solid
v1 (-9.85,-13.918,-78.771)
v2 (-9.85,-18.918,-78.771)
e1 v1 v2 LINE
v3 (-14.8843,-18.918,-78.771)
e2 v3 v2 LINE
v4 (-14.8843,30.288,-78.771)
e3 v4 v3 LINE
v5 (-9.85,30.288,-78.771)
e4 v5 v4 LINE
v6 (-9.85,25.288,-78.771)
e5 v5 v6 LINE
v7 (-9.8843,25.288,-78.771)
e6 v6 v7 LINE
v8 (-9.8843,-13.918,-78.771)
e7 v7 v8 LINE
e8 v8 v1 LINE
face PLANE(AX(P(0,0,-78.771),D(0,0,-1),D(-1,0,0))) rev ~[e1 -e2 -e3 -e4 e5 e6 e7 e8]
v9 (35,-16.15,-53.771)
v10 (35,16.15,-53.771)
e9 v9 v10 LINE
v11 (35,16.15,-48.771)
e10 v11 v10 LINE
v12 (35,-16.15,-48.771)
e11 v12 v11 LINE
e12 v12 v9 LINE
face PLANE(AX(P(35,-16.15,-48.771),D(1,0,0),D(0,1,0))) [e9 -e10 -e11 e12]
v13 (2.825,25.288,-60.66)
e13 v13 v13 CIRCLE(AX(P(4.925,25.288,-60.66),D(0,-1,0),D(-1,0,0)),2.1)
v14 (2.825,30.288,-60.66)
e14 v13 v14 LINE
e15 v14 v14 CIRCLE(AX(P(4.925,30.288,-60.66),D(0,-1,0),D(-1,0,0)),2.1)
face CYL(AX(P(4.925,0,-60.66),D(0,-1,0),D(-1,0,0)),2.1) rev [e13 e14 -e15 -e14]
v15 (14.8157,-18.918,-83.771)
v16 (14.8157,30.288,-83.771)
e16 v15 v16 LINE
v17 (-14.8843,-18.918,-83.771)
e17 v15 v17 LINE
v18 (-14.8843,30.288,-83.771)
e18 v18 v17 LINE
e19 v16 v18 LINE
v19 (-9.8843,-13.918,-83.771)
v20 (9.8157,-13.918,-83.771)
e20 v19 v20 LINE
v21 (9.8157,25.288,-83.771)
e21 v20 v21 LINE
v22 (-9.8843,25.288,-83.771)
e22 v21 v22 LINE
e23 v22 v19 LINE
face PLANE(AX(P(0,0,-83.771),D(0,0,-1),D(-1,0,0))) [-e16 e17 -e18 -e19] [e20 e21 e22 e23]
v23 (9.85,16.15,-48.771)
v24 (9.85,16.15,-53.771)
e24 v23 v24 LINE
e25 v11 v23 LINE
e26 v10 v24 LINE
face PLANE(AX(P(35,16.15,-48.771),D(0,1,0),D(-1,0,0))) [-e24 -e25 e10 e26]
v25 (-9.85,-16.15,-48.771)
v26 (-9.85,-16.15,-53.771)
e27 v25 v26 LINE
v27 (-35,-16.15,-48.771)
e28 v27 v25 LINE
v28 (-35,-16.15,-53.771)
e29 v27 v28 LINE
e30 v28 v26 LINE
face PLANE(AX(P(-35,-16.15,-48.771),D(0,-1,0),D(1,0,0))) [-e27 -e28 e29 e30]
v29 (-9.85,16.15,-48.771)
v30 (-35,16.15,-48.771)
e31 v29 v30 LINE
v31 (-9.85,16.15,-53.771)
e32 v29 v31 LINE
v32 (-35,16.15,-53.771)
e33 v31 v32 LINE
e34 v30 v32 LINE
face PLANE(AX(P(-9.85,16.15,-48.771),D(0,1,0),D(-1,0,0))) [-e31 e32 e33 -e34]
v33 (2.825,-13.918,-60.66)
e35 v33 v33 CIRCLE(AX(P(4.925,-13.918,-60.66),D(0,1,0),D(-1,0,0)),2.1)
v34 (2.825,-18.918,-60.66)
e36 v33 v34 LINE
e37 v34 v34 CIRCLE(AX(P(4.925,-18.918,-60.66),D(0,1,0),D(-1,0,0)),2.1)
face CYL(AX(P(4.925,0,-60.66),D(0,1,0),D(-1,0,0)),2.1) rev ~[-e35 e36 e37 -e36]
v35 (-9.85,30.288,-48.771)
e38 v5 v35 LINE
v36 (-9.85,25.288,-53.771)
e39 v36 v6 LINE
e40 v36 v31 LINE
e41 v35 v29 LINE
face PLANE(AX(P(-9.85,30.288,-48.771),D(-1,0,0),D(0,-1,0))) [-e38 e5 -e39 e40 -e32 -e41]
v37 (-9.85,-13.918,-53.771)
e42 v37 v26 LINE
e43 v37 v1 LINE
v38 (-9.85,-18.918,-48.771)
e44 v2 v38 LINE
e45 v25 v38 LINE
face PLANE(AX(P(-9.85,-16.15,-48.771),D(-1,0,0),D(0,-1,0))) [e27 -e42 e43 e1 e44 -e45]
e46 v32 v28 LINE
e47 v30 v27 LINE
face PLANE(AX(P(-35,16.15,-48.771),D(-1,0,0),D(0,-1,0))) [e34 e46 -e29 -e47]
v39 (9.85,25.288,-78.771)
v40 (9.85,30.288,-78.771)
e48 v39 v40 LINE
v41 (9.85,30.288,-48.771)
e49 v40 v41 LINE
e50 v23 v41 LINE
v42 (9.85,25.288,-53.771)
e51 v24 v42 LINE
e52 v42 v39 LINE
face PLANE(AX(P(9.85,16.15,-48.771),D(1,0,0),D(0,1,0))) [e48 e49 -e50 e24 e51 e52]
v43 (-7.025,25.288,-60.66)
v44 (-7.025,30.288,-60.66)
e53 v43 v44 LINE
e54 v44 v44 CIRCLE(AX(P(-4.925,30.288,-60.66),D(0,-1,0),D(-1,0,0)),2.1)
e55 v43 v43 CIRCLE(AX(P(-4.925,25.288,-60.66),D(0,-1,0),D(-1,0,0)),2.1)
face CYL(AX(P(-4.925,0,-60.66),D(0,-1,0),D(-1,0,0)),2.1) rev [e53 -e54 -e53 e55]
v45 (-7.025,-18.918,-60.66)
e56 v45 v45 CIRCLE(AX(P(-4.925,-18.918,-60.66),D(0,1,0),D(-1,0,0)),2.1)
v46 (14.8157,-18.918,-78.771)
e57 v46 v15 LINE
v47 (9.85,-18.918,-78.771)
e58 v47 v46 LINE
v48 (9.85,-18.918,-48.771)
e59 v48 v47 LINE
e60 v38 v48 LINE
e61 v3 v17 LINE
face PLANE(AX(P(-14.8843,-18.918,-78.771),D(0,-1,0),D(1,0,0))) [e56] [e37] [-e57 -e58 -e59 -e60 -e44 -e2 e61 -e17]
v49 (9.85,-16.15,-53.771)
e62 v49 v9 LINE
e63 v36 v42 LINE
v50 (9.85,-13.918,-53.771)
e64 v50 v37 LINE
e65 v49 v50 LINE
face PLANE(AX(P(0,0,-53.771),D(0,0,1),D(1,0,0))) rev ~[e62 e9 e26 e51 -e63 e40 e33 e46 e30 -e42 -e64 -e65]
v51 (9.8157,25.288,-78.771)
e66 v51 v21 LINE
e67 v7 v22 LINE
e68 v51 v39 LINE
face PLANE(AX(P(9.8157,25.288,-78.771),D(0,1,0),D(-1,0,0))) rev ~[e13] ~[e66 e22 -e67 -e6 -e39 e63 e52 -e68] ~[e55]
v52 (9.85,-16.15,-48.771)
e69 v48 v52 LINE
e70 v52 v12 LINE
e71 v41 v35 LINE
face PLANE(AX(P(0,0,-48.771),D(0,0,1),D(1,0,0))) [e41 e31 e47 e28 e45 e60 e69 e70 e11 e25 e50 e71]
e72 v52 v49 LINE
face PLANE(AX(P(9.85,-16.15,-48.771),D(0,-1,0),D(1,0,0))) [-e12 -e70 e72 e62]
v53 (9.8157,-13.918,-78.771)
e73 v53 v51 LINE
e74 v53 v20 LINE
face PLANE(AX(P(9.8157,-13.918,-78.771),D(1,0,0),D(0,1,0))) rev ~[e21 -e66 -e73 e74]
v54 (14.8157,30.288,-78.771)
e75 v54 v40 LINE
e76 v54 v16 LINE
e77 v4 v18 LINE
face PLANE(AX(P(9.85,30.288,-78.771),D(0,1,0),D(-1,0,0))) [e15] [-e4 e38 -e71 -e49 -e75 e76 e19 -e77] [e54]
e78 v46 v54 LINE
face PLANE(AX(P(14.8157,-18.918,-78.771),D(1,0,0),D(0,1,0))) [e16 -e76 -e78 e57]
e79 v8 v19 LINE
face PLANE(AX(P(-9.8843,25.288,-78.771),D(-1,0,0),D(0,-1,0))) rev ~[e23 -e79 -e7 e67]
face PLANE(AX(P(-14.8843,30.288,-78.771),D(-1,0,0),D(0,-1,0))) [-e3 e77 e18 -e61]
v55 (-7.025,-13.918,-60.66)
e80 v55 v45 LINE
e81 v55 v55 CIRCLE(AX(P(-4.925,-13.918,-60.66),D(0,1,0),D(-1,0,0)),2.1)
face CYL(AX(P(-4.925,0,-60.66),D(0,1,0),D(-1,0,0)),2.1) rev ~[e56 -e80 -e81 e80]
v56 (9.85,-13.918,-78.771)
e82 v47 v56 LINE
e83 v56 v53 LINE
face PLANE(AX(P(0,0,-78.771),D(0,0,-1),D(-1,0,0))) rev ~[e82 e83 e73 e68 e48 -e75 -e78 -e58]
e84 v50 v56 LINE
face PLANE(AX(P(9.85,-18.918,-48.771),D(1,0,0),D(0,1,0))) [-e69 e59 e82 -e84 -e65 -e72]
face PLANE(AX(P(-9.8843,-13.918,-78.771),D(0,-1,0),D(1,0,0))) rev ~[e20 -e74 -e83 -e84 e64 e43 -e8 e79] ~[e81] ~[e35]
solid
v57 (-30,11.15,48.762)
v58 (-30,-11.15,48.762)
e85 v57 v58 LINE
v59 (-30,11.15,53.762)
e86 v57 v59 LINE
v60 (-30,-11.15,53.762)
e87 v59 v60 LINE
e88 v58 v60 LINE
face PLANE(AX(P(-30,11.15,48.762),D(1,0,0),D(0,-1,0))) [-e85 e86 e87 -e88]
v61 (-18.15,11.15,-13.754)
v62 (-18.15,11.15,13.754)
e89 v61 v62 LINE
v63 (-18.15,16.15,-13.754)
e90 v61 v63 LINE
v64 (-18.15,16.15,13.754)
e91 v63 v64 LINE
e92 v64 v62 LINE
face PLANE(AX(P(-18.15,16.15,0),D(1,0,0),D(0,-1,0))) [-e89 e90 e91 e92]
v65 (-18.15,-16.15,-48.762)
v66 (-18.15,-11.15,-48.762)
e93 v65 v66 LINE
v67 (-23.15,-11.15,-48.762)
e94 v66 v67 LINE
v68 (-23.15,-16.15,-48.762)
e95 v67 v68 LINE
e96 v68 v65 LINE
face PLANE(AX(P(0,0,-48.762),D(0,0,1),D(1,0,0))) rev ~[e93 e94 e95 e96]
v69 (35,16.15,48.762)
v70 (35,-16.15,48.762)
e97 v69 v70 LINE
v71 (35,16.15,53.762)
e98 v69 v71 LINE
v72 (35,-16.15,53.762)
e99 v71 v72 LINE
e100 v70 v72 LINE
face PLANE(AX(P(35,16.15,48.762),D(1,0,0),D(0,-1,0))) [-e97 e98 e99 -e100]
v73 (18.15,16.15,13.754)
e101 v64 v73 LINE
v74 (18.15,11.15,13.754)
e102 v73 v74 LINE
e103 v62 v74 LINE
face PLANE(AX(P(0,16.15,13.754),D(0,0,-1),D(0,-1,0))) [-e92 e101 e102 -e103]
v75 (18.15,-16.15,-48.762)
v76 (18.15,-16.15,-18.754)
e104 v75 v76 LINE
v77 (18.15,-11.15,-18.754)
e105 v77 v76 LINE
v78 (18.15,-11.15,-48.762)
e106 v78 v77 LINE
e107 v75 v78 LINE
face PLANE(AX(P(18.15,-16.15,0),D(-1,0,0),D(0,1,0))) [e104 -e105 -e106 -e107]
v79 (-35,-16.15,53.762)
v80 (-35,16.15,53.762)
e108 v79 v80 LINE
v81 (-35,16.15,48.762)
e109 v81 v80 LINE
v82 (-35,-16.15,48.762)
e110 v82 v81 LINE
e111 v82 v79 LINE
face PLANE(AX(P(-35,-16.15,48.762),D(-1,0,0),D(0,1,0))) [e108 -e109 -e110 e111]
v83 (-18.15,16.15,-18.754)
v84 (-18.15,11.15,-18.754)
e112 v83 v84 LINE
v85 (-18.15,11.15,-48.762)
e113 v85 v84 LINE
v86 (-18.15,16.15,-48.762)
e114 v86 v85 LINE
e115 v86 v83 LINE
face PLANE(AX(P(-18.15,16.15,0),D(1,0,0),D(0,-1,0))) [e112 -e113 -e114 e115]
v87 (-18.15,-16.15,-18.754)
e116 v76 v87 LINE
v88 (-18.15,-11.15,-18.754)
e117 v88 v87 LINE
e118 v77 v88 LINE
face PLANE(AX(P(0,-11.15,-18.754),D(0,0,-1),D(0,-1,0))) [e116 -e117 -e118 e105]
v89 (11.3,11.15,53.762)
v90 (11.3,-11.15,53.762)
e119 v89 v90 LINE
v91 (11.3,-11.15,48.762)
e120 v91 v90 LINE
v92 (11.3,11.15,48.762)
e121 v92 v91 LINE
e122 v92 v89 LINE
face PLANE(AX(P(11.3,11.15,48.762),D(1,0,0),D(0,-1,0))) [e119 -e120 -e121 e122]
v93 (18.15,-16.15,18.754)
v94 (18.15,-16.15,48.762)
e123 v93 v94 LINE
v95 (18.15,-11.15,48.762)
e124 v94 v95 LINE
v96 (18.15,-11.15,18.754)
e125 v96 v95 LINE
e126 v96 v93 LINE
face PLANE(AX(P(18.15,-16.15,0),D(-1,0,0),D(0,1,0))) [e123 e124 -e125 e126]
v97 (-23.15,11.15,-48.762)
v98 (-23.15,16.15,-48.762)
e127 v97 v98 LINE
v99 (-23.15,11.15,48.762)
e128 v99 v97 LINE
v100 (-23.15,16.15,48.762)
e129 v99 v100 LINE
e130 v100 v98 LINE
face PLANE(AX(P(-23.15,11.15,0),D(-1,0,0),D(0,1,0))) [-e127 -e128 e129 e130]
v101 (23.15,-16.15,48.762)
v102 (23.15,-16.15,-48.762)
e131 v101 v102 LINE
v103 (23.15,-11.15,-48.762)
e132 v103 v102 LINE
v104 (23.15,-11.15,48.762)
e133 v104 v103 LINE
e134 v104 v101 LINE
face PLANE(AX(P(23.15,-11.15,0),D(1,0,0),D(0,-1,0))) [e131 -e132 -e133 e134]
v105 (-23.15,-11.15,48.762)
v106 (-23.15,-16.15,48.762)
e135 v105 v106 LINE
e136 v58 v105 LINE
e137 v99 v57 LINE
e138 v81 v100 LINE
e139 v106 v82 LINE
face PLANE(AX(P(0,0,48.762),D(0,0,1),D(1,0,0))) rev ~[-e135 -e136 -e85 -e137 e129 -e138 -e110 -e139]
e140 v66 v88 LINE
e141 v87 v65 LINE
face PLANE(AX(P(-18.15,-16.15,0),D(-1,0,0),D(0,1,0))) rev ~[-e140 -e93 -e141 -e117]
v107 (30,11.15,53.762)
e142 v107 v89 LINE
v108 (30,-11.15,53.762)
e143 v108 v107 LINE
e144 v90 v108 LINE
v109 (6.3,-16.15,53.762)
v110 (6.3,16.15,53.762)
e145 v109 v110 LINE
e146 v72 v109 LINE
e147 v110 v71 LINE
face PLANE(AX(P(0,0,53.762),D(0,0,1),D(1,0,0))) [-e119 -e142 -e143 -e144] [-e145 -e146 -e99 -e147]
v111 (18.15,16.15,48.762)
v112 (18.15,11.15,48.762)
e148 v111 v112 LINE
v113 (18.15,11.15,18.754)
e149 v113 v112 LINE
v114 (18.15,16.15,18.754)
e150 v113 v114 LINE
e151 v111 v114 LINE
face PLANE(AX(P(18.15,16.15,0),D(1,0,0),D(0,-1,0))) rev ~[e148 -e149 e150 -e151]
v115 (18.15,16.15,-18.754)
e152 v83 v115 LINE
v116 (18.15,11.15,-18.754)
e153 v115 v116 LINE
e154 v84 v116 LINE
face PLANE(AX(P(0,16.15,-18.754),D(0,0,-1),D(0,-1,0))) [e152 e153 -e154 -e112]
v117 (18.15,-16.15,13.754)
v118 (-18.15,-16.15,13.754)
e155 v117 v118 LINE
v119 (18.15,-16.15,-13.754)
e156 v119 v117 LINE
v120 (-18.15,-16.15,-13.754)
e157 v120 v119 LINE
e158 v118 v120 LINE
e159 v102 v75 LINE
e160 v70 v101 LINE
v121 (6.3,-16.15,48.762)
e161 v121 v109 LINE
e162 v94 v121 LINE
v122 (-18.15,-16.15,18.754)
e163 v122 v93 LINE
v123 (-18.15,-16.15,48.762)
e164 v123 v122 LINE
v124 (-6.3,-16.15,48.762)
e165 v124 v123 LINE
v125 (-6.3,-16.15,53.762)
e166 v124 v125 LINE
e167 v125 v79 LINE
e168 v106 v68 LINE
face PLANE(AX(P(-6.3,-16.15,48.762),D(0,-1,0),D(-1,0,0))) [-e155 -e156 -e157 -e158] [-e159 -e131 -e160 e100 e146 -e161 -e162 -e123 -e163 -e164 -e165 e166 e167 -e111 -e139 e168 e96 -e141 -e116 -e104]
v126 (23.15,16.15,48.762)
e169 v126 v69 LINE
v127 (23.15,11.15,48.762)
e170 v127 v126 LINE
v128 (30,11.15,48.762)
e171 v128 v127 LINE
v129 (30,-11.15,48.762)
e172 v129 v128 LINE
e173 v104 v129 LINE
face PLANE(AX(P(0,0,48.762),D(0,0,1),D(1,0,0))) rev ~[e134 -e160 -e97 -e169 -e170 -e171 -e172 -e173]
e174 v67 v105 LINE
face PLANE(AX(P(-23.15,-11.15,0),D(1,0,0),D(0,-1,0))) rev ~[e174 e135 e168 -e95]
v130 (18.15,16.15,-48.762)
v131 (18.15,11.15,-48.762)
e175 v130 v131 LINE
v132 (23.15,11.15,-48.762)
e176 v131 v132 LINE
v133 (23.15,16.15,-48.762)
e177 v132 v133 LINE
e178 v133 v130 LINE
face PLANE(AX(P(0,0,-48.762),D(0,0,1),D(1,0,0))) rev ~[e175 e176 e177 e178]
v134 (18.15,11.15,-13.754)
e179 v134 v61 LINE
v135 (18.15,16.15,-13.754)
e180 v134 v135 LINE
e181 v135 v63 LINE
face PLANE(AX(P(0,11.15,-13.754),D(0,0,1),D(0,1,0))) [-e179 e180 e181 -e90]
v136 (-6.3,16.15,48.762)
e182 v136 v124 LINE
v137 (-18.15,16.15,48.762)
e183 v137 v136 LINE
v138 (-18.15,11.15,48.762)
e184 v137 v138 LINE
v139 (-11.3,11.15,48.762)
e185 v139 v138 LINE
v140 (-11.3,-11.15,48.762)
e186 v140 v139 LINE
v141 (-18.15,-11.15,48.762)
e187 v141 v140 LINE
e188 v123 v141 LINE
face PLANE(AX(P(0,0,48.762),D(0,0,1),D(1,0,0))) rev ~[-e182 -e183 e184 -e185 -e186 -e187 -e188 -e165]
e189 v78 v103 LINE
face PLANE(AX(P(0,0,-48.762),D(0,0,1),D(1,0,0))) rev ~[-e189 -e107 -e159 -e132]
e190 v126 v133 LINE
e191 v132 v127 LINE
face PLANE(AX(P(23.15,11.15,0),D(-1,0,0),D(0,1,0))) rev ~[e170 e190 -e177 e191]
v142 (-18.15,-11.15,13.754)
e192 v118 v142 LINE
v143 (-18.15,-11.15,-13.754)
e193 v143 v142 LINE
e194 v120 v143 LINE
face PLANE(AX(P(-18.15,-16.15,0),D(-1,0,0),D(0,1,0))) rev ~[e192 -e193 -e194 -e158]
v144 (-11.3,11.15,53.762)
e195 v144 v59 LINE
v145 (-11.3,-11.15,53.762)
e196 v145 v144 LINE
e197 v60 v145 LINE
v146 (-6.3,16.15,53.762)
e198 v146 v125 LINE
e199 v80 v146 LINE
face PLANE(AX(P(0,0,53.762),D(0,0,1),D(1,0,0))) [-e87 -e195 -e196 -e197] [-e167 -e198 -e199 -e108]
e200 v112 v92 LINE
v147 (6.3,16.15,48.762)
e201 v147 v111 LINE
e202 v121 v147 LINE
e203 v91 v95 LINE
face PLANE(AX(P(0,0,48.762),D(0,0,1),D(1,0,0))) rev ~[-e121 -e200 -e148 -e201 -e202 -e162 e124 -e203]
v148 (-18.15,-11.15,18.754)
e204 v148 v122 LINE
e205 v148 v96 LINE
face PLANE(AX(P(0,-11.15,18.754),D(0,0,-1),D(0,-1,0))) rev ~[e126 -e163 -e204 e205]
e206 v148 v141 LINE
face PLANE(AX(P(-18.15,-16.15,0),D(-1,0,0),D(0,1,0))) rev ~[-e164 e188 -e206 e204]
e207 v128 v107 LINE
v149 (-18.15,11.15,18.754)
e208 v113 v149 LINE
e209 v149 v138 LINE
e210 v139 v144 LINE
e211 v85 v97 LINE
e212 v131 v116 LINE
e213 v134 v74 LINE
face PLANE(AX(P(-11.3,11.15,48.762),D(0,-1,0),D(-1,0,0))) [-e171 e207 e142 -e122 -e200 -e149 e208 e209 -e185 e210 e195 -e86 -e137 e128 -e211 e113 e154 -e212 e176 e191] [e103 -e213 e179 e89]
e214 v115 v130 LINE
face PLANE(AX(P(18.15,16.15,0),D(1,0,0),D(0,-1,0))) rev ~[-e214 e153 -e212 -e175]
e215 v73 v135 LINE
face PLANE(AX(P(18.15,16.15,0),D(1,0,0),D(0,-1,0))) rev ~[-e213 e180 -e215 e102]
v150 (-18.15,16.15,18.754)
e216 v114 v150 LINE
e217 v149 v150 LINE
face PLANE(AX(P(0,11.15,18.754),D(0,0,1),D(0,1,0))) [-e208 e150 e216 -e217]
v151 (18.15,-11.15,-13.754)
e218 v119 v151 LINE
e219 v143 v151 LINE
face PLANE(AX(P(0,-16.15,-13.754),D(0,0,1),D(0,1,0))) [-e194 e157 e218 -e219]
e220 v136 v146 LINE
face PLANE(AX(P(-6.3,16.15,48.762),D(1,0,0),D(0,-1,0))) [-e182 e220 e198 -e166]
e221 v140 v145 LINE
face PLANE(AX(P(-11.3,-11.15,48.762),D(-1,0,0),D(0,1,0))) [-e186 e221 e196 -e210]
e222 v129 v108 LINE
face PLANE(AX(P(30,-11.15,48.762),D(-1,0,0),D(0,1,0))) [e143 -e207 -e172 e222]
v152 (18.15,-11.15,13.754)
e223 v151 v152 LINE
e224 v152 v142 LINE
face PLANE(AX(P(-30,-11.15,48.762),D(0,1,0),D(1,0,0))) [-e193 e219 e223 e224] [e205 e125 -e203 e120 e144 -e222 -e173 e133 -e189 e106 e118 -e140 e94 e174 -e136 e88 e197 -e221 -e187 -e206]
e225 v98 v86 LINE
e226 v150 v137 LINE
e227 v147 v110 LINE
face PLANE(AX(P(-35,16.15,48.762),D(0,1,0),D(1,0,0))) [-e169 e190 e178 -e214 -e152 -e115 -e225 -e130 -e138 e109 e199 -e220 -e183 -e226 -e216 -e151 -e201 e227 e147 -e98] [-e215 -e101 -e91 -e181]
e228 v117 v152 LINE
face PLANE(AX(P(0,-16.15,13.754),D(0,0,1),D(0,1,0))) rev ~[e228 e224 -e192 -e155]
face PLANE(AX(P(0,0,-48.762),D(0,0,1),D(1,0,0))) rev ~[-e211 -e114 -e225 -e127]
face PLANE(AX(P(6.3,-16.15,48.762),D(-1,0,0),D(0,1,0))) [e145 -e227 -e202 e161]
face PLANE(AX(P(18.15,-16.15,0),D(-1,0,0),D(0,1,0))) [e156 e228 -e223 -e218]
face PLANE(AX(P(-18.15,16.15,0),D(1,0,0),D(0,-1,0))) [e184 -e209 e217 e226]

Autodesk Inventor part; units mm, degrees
sketch "Sketch1" plane through (0, 0, 0) normal (0, 0, 1) x (1, 0, 0)
  line L0 (-18.15, 11.15) -> (18.15, 11.15) construction
  line L1 (18.15, 11.15) -> (18.15, -11.15) construction
  line L2 (18.15, -11.15) -> (-18.15, -11.15) construction
  line L3 (-18.15, -11.15) -> (-18.15, 11.15) construction
  line L4 (-18.15, 11.15) -> (18.15, -11.15) construction
  line L5 (18.15, 11.15) -> (-18.15, -11.15) construction
  line L6 (-18.15, 11.15) -> (-23.15, 11.15)
  line L7 (-23.15, 11.15) -> (-23.15, 16.15)
  line L8 (-23.15, 16.15) -> (-18.15, 16.15)
  line L9 (-18.15, 16.15) -> (-18.15, 11.15)
  line L10 (18.15, 11.15) -> (23.15, 11.15)
  line L11 (23.15, 11.15) -> (23.15, 16.15)
  line L12 (23.15, 16.15) -> (18.15, 16.15)
  line L13 (18.15, 16.15) -> (18.15, 11.15)
  line L14 (18.15, -11.15) -> (23.15, -11.15)
  line L15 (23.15, -11.15) -> (23.15, -16.15)
  line L16 (23.15, -16.15) -> (18.15, -16.15)
  line L17 (18.15, -16.15) -> (18.15, -11.15)
  line L18 (-18.15, -11.15) -> (-23.15, -11.15)
  line L19 (-23.15, -11.15) -> (-23.15, -16.15)
  line L20 (-23.15, -16.15) -> (-18.15, -16.15)
  line L21 (-18.15, -16.15) -> (-18.15, -11.15)
  point P0 (0, 0)
  dimension "d0" = 36.3
  dimension "d1" = 22.3
  dimension "d2" = 5
  dimension "d3" = 5
  dimension "d4" = 5
  dimension "d5" = 5
  dimension "d6" = 5
  dimension "d7" = 5
  dimension "d8" = 5
  dimension "d9" = 5
extrude "Extrusion1" add sketch "Sketch1" along normal mid plane 97.524
ref_plane "Work Plane1" through (0, 0, 48.762) normal (0, 0, 1) x (1, 0, 0)
sketch "Sketch2" plane through (0, 0, 48.762) normal (0, 0, 1) x (1, 0, 0)
  line L0 (0, 0) -> (-20.65, 0) construction
  line L1 (0, 0) -> (20.65, 0) construction
  line L2 (-35, 16.15) -> (-6.3, 16.15)
  line L3 (-6.3, 16.15) -> (-6.3, -16.15)
  line L4 (-6.3, -16.15) -> (-35, -16.15)
  line L5 (-35, -16.15) -> (-35, 16.15)
  line L6 (-35, 16.15) -> (-6.3, -16.15) construction
  line L7 (-6.3, 16.15) -> (-35, -16.15) construction
  line L8 (6.3, 16.15) -> (35, 16.15)
  line L9 (35, 16.15) -> (35, -16.15)
  line L10 (35, -16.15) -> (6.3, -16.15)
  line L11 (6.3, -16.15) -> (6.3, 16.15)
  line L12 (6.3, 16.15) -> (35, -16.15) construction
  line L13 (35, 16.15) -> (6.3, -16.15) construction
  line L14 (-11.3, 11.15) -> (-30, 11.15)
  line L15 (-30, 11.15) -> (-30, -11.15)
  line L16 (-30, -11.15) -> (-11.3, -11.15)
  line L17 (-11.3, -11.15) -> (-11.3, 11.15)
  line L18 (30, 11.15) -> (11.3, 11.15)
  line L19 (11.3, 11.15) -> (11.3, -11.15)
  line L20 (11.3, -11.15) -> (30, -11.15)
  line L21 (30, -11.15) -> (30, 11.15)
  dimension "d13" = 20.65
  dimension "d14" = 20.65
  dimension "d15" = 28.7
  dimension "d16" = 32.3
  dimension "d17" = 28.7
  dimension "d18" = 32.3
  dimension "d19" = 5
  dimension "d20" = 5
extrude "Extrusion2" add sketch "Sketch2" along normal blind 5
ref_plane "Work Plane2" through (0, 0, -48.771) normal (0, 0, 1) x (1, 0, 0)
sketch "Sketch3" plane through (0, 0, -48.771) normal (0, 0, 1) x (1, 0, 0)
  line L0 (35, 16.15) -> (-35, 16.15)
  line L1 (-35, 16.15) -> (-35, -16.15)
  line L2 (-35, -16.15) -> (35, -16.15)
  line L3 (35, -16.15) -> (35, 16.15)
  line L4 (35, 16.15) -> (-35, -16.15) construction
  line L5 (-35, 16.15) -> (35, -16.15) construction
  line L6 (0, 0) -> (35, 0) construction
  line L7 (0, 0) -> (-35, 0) construction
  line L8 (-9.85, 16.15) -> (9.85, 16.15)
  line L9 (-9.85, -16.15) -> (9.85, -16.15)
  line L10 (9.85, 30.288) -> (-9.85, 30.288)
  line L11 (-9.85, 30.288) -> (-9.85, -18.918)
  line L12 (-9.85, -18.918) -> (9.85, -18.918)
  line L13 (9.85, -18.918) -> (9.85, 30.288)
  line L14 (9.85, 30.288) -> (-9.85, -18.918) construction
  line L15 (-9.85, 30.288) -> (9.85, -18.918) construction
  point P0 (11.3, -11.15)
  point P1 (-30, 11.15)
  point P2 (0, 5.685)
  dimension "d25" = 32.3
  dimension "d26" = 35
  dimension "d27" = 35
  dimension "d78" = 19.7
  dimension "d81" = 19.7
  dimension "d90" = 19.7
  dimension "d91" = 49.206
  dimension "d92" = 5.685
extrude "Extrusion3" add sketch "Sketch3" against normal blind 5
sketch "Sketch4" plane through (0, 0, 0) normal (1, 0, 0) x (0, 1, 0)
  line L0 (11.15, -48.762) -> (11.15, 48.762) projected
  line L1 (11.15, 18.754) -> (16.15, 18.754)
  line L2 (16.15, 18.754) -> (16.15, 13.754)
  line L3 (16.15, 13.754) -> (11.15, 13.754)
  line L4 (11.15, 13.754) -> (11.15, 18.754)
  line L5 (-11.15, 48.762) -> (11.15, 48.762) projected
  line L6 (11.15, -13.754) -> (16.15, -13.754)
  line L7 (16.15, -13.754) -> (16.15, -18.754)
  line L8 (16.15, -18.754) -> (11.15, -18.754)
  line L9 (11.15, -18.754) -> (11.15, -13.754)
  line L10 (16.15, -48.762) -> (11.15, -48.762) projected
  line L11 (-11.15, 48.762) -> (-11.15, -48.762) projected
  line L12 (-11.15, 18.754) -> (-16.15, 18.754)
  line L13 (-16.15, 18.754) -> (-16.15, 13.754)
  line L14 (-16.15, 13.754) -> (-11.15, 13.754)
  line L15 (-11.15, 13.754) -> (-11.15, 18.754)
  line L16 (-11.15, -18.754) -> (-16.15, -18.754)
  line L17 (-16.15, -18.754) -> (-16.15, -13.754)
  line L18 (-16.15, -13.754) -> (-11.15, -13.754)
  line L19 (-11.15, -13.754) -> (-11.15, -18.754)
  line L20 (-11.15, -48.762) -> (-16.15, -48.762) projected
  point P0 (0, 0)
  point P1 (-16.15, 48.762)
  point P2 (16.15, 48.762)
  dimension "d30" = 5
  dimension "d31" = 5
  dimension "d32" = 30.008
  dimension "d33" = 5
  dimension "d34" = 5
  dimension "d35" = 30.008
  dimension "d36" = 5
  dimension "d37" = 5
  dimension "d38" = 5
  dimension "d39" = 5
  dimension "d40" = 30.008
  dimension "d41" = 30.008
extrude "Extrusion4" add sketch "Sketch4" along normal mid plane 36.3
sketch "Sketch7" plane through (0, 0, -53.771) normal (0, 0, -1) x (-1, 0, 0)
  line L0 (9.85, 30.288) -> (-9.85, 30.288) projected
  line L1 (-9.85, 30.288) -> (9.85, 30.288)
  line L2 (9.85, 30.288) -> (9.85, 25.288)
  line L3 (9.85, 25.288) -> (-9.85, 25.288)
  line L4 (-9.85, 25.288) -> (-9.85, 30.288)
  line L5 (-9.85, -18.918) -> (9.85, -18.918) projected
  line L6 (9.85, -18.918) -> (-9.85, -18.918)
  line L7 (-9.85, -18.918) -> (-9.85, -13.918)
  line L8 (-9.85, -13.918) -> (9.85, -13.918)
  line L9 (9.85, -13.918) -> (9.85, -18.918)
  dimension "d93" = 5
  dimension "d94" = 5
extrude "Extrusion7" add sketch "Sketch7" along normal blind 25
ref_plane "Work Plane3" through (0, 0, -78.771) normal (0, 0, -1) x (-1, 0, 0)
sketch "Sketch8" plane through (0, 0, -78.771) normal (0, 0, -1) x (-1, 0, 0)
  line L0 (-9.85, 30.288) -> (9.85, 30.288) projected
  line L1 (9.85, -18.918) -> (-9.85, -18.918) projected
  line L2 (-6.7685, 30.288) -> (6.8371, 30.288)
  line L3 (6.8371, -18.918) -> (-6.7685, -18.918)
  line L4 (0.0343, 30.288) -> (0.0343, -18.918) construction
  line L5 (-14.8157, 30.288) -> (14.8843, 30.288)
  line L6 (14.8843, 30.288) -> (14.8843, -18.918)
  line L7 (14.8843, -18.918) -> (-14.8157, -18.918)
  line L8 (-14.8157, -18.918) -> (-14.8157, 30.288)
  line L9 (-14.8157, 30.288) -> (14.8843, -18.918) construction
  line L10 (14.8843, 30.288) -> (-14.8157, -18.918) construction
  line L11 (-9.8157, 25.288) -> (9.8843, 25.288)
  line L12 (9.8843, 25.288) -> (9.8843, -13.918)
  line L13 (9.8843, -13.918) -> (-9.8157, -13.918)
  line L14 (-9.8157, -13.918) -> (-9.8157, 25.288)
  point P0 (0.0343, 5.685)
  dimension "d95" = 29.7
  dimension "d96" = 5
extrude "Extrusion8" add sketch "Sketch8" along normal blind 5
sketch "Sketch10" plane through (0, 0, 0) normal (0, 1, 0) x (-1, 0, 0)
  circle A0 centre (-4.925, -60.66) radius 2.1
  line L0 (-9.85, -53.771) -> (9.85, -53.771) projected
  line L1 (-9.85, -53.771) -> (-9.85, -78.771) projected
  circle A1 centre (4.925, -60.66) radius 2.1
  line L2 (9.85, -53.771) -> (9.85, -78.771) projected
  point P0 (0, 0)
  dimension "d82" = 4.2
  dimension "d83" = 6.889
  dimension "d84" = 4.925
  dimension "d85" = 4.2
  dimension "d86" = 6.889
  dimension "d87" = 4.925
extrude "Extrusion10" cut sketch "Sketch10" along normal through all both and the other way through all
properties part number "MTail"
